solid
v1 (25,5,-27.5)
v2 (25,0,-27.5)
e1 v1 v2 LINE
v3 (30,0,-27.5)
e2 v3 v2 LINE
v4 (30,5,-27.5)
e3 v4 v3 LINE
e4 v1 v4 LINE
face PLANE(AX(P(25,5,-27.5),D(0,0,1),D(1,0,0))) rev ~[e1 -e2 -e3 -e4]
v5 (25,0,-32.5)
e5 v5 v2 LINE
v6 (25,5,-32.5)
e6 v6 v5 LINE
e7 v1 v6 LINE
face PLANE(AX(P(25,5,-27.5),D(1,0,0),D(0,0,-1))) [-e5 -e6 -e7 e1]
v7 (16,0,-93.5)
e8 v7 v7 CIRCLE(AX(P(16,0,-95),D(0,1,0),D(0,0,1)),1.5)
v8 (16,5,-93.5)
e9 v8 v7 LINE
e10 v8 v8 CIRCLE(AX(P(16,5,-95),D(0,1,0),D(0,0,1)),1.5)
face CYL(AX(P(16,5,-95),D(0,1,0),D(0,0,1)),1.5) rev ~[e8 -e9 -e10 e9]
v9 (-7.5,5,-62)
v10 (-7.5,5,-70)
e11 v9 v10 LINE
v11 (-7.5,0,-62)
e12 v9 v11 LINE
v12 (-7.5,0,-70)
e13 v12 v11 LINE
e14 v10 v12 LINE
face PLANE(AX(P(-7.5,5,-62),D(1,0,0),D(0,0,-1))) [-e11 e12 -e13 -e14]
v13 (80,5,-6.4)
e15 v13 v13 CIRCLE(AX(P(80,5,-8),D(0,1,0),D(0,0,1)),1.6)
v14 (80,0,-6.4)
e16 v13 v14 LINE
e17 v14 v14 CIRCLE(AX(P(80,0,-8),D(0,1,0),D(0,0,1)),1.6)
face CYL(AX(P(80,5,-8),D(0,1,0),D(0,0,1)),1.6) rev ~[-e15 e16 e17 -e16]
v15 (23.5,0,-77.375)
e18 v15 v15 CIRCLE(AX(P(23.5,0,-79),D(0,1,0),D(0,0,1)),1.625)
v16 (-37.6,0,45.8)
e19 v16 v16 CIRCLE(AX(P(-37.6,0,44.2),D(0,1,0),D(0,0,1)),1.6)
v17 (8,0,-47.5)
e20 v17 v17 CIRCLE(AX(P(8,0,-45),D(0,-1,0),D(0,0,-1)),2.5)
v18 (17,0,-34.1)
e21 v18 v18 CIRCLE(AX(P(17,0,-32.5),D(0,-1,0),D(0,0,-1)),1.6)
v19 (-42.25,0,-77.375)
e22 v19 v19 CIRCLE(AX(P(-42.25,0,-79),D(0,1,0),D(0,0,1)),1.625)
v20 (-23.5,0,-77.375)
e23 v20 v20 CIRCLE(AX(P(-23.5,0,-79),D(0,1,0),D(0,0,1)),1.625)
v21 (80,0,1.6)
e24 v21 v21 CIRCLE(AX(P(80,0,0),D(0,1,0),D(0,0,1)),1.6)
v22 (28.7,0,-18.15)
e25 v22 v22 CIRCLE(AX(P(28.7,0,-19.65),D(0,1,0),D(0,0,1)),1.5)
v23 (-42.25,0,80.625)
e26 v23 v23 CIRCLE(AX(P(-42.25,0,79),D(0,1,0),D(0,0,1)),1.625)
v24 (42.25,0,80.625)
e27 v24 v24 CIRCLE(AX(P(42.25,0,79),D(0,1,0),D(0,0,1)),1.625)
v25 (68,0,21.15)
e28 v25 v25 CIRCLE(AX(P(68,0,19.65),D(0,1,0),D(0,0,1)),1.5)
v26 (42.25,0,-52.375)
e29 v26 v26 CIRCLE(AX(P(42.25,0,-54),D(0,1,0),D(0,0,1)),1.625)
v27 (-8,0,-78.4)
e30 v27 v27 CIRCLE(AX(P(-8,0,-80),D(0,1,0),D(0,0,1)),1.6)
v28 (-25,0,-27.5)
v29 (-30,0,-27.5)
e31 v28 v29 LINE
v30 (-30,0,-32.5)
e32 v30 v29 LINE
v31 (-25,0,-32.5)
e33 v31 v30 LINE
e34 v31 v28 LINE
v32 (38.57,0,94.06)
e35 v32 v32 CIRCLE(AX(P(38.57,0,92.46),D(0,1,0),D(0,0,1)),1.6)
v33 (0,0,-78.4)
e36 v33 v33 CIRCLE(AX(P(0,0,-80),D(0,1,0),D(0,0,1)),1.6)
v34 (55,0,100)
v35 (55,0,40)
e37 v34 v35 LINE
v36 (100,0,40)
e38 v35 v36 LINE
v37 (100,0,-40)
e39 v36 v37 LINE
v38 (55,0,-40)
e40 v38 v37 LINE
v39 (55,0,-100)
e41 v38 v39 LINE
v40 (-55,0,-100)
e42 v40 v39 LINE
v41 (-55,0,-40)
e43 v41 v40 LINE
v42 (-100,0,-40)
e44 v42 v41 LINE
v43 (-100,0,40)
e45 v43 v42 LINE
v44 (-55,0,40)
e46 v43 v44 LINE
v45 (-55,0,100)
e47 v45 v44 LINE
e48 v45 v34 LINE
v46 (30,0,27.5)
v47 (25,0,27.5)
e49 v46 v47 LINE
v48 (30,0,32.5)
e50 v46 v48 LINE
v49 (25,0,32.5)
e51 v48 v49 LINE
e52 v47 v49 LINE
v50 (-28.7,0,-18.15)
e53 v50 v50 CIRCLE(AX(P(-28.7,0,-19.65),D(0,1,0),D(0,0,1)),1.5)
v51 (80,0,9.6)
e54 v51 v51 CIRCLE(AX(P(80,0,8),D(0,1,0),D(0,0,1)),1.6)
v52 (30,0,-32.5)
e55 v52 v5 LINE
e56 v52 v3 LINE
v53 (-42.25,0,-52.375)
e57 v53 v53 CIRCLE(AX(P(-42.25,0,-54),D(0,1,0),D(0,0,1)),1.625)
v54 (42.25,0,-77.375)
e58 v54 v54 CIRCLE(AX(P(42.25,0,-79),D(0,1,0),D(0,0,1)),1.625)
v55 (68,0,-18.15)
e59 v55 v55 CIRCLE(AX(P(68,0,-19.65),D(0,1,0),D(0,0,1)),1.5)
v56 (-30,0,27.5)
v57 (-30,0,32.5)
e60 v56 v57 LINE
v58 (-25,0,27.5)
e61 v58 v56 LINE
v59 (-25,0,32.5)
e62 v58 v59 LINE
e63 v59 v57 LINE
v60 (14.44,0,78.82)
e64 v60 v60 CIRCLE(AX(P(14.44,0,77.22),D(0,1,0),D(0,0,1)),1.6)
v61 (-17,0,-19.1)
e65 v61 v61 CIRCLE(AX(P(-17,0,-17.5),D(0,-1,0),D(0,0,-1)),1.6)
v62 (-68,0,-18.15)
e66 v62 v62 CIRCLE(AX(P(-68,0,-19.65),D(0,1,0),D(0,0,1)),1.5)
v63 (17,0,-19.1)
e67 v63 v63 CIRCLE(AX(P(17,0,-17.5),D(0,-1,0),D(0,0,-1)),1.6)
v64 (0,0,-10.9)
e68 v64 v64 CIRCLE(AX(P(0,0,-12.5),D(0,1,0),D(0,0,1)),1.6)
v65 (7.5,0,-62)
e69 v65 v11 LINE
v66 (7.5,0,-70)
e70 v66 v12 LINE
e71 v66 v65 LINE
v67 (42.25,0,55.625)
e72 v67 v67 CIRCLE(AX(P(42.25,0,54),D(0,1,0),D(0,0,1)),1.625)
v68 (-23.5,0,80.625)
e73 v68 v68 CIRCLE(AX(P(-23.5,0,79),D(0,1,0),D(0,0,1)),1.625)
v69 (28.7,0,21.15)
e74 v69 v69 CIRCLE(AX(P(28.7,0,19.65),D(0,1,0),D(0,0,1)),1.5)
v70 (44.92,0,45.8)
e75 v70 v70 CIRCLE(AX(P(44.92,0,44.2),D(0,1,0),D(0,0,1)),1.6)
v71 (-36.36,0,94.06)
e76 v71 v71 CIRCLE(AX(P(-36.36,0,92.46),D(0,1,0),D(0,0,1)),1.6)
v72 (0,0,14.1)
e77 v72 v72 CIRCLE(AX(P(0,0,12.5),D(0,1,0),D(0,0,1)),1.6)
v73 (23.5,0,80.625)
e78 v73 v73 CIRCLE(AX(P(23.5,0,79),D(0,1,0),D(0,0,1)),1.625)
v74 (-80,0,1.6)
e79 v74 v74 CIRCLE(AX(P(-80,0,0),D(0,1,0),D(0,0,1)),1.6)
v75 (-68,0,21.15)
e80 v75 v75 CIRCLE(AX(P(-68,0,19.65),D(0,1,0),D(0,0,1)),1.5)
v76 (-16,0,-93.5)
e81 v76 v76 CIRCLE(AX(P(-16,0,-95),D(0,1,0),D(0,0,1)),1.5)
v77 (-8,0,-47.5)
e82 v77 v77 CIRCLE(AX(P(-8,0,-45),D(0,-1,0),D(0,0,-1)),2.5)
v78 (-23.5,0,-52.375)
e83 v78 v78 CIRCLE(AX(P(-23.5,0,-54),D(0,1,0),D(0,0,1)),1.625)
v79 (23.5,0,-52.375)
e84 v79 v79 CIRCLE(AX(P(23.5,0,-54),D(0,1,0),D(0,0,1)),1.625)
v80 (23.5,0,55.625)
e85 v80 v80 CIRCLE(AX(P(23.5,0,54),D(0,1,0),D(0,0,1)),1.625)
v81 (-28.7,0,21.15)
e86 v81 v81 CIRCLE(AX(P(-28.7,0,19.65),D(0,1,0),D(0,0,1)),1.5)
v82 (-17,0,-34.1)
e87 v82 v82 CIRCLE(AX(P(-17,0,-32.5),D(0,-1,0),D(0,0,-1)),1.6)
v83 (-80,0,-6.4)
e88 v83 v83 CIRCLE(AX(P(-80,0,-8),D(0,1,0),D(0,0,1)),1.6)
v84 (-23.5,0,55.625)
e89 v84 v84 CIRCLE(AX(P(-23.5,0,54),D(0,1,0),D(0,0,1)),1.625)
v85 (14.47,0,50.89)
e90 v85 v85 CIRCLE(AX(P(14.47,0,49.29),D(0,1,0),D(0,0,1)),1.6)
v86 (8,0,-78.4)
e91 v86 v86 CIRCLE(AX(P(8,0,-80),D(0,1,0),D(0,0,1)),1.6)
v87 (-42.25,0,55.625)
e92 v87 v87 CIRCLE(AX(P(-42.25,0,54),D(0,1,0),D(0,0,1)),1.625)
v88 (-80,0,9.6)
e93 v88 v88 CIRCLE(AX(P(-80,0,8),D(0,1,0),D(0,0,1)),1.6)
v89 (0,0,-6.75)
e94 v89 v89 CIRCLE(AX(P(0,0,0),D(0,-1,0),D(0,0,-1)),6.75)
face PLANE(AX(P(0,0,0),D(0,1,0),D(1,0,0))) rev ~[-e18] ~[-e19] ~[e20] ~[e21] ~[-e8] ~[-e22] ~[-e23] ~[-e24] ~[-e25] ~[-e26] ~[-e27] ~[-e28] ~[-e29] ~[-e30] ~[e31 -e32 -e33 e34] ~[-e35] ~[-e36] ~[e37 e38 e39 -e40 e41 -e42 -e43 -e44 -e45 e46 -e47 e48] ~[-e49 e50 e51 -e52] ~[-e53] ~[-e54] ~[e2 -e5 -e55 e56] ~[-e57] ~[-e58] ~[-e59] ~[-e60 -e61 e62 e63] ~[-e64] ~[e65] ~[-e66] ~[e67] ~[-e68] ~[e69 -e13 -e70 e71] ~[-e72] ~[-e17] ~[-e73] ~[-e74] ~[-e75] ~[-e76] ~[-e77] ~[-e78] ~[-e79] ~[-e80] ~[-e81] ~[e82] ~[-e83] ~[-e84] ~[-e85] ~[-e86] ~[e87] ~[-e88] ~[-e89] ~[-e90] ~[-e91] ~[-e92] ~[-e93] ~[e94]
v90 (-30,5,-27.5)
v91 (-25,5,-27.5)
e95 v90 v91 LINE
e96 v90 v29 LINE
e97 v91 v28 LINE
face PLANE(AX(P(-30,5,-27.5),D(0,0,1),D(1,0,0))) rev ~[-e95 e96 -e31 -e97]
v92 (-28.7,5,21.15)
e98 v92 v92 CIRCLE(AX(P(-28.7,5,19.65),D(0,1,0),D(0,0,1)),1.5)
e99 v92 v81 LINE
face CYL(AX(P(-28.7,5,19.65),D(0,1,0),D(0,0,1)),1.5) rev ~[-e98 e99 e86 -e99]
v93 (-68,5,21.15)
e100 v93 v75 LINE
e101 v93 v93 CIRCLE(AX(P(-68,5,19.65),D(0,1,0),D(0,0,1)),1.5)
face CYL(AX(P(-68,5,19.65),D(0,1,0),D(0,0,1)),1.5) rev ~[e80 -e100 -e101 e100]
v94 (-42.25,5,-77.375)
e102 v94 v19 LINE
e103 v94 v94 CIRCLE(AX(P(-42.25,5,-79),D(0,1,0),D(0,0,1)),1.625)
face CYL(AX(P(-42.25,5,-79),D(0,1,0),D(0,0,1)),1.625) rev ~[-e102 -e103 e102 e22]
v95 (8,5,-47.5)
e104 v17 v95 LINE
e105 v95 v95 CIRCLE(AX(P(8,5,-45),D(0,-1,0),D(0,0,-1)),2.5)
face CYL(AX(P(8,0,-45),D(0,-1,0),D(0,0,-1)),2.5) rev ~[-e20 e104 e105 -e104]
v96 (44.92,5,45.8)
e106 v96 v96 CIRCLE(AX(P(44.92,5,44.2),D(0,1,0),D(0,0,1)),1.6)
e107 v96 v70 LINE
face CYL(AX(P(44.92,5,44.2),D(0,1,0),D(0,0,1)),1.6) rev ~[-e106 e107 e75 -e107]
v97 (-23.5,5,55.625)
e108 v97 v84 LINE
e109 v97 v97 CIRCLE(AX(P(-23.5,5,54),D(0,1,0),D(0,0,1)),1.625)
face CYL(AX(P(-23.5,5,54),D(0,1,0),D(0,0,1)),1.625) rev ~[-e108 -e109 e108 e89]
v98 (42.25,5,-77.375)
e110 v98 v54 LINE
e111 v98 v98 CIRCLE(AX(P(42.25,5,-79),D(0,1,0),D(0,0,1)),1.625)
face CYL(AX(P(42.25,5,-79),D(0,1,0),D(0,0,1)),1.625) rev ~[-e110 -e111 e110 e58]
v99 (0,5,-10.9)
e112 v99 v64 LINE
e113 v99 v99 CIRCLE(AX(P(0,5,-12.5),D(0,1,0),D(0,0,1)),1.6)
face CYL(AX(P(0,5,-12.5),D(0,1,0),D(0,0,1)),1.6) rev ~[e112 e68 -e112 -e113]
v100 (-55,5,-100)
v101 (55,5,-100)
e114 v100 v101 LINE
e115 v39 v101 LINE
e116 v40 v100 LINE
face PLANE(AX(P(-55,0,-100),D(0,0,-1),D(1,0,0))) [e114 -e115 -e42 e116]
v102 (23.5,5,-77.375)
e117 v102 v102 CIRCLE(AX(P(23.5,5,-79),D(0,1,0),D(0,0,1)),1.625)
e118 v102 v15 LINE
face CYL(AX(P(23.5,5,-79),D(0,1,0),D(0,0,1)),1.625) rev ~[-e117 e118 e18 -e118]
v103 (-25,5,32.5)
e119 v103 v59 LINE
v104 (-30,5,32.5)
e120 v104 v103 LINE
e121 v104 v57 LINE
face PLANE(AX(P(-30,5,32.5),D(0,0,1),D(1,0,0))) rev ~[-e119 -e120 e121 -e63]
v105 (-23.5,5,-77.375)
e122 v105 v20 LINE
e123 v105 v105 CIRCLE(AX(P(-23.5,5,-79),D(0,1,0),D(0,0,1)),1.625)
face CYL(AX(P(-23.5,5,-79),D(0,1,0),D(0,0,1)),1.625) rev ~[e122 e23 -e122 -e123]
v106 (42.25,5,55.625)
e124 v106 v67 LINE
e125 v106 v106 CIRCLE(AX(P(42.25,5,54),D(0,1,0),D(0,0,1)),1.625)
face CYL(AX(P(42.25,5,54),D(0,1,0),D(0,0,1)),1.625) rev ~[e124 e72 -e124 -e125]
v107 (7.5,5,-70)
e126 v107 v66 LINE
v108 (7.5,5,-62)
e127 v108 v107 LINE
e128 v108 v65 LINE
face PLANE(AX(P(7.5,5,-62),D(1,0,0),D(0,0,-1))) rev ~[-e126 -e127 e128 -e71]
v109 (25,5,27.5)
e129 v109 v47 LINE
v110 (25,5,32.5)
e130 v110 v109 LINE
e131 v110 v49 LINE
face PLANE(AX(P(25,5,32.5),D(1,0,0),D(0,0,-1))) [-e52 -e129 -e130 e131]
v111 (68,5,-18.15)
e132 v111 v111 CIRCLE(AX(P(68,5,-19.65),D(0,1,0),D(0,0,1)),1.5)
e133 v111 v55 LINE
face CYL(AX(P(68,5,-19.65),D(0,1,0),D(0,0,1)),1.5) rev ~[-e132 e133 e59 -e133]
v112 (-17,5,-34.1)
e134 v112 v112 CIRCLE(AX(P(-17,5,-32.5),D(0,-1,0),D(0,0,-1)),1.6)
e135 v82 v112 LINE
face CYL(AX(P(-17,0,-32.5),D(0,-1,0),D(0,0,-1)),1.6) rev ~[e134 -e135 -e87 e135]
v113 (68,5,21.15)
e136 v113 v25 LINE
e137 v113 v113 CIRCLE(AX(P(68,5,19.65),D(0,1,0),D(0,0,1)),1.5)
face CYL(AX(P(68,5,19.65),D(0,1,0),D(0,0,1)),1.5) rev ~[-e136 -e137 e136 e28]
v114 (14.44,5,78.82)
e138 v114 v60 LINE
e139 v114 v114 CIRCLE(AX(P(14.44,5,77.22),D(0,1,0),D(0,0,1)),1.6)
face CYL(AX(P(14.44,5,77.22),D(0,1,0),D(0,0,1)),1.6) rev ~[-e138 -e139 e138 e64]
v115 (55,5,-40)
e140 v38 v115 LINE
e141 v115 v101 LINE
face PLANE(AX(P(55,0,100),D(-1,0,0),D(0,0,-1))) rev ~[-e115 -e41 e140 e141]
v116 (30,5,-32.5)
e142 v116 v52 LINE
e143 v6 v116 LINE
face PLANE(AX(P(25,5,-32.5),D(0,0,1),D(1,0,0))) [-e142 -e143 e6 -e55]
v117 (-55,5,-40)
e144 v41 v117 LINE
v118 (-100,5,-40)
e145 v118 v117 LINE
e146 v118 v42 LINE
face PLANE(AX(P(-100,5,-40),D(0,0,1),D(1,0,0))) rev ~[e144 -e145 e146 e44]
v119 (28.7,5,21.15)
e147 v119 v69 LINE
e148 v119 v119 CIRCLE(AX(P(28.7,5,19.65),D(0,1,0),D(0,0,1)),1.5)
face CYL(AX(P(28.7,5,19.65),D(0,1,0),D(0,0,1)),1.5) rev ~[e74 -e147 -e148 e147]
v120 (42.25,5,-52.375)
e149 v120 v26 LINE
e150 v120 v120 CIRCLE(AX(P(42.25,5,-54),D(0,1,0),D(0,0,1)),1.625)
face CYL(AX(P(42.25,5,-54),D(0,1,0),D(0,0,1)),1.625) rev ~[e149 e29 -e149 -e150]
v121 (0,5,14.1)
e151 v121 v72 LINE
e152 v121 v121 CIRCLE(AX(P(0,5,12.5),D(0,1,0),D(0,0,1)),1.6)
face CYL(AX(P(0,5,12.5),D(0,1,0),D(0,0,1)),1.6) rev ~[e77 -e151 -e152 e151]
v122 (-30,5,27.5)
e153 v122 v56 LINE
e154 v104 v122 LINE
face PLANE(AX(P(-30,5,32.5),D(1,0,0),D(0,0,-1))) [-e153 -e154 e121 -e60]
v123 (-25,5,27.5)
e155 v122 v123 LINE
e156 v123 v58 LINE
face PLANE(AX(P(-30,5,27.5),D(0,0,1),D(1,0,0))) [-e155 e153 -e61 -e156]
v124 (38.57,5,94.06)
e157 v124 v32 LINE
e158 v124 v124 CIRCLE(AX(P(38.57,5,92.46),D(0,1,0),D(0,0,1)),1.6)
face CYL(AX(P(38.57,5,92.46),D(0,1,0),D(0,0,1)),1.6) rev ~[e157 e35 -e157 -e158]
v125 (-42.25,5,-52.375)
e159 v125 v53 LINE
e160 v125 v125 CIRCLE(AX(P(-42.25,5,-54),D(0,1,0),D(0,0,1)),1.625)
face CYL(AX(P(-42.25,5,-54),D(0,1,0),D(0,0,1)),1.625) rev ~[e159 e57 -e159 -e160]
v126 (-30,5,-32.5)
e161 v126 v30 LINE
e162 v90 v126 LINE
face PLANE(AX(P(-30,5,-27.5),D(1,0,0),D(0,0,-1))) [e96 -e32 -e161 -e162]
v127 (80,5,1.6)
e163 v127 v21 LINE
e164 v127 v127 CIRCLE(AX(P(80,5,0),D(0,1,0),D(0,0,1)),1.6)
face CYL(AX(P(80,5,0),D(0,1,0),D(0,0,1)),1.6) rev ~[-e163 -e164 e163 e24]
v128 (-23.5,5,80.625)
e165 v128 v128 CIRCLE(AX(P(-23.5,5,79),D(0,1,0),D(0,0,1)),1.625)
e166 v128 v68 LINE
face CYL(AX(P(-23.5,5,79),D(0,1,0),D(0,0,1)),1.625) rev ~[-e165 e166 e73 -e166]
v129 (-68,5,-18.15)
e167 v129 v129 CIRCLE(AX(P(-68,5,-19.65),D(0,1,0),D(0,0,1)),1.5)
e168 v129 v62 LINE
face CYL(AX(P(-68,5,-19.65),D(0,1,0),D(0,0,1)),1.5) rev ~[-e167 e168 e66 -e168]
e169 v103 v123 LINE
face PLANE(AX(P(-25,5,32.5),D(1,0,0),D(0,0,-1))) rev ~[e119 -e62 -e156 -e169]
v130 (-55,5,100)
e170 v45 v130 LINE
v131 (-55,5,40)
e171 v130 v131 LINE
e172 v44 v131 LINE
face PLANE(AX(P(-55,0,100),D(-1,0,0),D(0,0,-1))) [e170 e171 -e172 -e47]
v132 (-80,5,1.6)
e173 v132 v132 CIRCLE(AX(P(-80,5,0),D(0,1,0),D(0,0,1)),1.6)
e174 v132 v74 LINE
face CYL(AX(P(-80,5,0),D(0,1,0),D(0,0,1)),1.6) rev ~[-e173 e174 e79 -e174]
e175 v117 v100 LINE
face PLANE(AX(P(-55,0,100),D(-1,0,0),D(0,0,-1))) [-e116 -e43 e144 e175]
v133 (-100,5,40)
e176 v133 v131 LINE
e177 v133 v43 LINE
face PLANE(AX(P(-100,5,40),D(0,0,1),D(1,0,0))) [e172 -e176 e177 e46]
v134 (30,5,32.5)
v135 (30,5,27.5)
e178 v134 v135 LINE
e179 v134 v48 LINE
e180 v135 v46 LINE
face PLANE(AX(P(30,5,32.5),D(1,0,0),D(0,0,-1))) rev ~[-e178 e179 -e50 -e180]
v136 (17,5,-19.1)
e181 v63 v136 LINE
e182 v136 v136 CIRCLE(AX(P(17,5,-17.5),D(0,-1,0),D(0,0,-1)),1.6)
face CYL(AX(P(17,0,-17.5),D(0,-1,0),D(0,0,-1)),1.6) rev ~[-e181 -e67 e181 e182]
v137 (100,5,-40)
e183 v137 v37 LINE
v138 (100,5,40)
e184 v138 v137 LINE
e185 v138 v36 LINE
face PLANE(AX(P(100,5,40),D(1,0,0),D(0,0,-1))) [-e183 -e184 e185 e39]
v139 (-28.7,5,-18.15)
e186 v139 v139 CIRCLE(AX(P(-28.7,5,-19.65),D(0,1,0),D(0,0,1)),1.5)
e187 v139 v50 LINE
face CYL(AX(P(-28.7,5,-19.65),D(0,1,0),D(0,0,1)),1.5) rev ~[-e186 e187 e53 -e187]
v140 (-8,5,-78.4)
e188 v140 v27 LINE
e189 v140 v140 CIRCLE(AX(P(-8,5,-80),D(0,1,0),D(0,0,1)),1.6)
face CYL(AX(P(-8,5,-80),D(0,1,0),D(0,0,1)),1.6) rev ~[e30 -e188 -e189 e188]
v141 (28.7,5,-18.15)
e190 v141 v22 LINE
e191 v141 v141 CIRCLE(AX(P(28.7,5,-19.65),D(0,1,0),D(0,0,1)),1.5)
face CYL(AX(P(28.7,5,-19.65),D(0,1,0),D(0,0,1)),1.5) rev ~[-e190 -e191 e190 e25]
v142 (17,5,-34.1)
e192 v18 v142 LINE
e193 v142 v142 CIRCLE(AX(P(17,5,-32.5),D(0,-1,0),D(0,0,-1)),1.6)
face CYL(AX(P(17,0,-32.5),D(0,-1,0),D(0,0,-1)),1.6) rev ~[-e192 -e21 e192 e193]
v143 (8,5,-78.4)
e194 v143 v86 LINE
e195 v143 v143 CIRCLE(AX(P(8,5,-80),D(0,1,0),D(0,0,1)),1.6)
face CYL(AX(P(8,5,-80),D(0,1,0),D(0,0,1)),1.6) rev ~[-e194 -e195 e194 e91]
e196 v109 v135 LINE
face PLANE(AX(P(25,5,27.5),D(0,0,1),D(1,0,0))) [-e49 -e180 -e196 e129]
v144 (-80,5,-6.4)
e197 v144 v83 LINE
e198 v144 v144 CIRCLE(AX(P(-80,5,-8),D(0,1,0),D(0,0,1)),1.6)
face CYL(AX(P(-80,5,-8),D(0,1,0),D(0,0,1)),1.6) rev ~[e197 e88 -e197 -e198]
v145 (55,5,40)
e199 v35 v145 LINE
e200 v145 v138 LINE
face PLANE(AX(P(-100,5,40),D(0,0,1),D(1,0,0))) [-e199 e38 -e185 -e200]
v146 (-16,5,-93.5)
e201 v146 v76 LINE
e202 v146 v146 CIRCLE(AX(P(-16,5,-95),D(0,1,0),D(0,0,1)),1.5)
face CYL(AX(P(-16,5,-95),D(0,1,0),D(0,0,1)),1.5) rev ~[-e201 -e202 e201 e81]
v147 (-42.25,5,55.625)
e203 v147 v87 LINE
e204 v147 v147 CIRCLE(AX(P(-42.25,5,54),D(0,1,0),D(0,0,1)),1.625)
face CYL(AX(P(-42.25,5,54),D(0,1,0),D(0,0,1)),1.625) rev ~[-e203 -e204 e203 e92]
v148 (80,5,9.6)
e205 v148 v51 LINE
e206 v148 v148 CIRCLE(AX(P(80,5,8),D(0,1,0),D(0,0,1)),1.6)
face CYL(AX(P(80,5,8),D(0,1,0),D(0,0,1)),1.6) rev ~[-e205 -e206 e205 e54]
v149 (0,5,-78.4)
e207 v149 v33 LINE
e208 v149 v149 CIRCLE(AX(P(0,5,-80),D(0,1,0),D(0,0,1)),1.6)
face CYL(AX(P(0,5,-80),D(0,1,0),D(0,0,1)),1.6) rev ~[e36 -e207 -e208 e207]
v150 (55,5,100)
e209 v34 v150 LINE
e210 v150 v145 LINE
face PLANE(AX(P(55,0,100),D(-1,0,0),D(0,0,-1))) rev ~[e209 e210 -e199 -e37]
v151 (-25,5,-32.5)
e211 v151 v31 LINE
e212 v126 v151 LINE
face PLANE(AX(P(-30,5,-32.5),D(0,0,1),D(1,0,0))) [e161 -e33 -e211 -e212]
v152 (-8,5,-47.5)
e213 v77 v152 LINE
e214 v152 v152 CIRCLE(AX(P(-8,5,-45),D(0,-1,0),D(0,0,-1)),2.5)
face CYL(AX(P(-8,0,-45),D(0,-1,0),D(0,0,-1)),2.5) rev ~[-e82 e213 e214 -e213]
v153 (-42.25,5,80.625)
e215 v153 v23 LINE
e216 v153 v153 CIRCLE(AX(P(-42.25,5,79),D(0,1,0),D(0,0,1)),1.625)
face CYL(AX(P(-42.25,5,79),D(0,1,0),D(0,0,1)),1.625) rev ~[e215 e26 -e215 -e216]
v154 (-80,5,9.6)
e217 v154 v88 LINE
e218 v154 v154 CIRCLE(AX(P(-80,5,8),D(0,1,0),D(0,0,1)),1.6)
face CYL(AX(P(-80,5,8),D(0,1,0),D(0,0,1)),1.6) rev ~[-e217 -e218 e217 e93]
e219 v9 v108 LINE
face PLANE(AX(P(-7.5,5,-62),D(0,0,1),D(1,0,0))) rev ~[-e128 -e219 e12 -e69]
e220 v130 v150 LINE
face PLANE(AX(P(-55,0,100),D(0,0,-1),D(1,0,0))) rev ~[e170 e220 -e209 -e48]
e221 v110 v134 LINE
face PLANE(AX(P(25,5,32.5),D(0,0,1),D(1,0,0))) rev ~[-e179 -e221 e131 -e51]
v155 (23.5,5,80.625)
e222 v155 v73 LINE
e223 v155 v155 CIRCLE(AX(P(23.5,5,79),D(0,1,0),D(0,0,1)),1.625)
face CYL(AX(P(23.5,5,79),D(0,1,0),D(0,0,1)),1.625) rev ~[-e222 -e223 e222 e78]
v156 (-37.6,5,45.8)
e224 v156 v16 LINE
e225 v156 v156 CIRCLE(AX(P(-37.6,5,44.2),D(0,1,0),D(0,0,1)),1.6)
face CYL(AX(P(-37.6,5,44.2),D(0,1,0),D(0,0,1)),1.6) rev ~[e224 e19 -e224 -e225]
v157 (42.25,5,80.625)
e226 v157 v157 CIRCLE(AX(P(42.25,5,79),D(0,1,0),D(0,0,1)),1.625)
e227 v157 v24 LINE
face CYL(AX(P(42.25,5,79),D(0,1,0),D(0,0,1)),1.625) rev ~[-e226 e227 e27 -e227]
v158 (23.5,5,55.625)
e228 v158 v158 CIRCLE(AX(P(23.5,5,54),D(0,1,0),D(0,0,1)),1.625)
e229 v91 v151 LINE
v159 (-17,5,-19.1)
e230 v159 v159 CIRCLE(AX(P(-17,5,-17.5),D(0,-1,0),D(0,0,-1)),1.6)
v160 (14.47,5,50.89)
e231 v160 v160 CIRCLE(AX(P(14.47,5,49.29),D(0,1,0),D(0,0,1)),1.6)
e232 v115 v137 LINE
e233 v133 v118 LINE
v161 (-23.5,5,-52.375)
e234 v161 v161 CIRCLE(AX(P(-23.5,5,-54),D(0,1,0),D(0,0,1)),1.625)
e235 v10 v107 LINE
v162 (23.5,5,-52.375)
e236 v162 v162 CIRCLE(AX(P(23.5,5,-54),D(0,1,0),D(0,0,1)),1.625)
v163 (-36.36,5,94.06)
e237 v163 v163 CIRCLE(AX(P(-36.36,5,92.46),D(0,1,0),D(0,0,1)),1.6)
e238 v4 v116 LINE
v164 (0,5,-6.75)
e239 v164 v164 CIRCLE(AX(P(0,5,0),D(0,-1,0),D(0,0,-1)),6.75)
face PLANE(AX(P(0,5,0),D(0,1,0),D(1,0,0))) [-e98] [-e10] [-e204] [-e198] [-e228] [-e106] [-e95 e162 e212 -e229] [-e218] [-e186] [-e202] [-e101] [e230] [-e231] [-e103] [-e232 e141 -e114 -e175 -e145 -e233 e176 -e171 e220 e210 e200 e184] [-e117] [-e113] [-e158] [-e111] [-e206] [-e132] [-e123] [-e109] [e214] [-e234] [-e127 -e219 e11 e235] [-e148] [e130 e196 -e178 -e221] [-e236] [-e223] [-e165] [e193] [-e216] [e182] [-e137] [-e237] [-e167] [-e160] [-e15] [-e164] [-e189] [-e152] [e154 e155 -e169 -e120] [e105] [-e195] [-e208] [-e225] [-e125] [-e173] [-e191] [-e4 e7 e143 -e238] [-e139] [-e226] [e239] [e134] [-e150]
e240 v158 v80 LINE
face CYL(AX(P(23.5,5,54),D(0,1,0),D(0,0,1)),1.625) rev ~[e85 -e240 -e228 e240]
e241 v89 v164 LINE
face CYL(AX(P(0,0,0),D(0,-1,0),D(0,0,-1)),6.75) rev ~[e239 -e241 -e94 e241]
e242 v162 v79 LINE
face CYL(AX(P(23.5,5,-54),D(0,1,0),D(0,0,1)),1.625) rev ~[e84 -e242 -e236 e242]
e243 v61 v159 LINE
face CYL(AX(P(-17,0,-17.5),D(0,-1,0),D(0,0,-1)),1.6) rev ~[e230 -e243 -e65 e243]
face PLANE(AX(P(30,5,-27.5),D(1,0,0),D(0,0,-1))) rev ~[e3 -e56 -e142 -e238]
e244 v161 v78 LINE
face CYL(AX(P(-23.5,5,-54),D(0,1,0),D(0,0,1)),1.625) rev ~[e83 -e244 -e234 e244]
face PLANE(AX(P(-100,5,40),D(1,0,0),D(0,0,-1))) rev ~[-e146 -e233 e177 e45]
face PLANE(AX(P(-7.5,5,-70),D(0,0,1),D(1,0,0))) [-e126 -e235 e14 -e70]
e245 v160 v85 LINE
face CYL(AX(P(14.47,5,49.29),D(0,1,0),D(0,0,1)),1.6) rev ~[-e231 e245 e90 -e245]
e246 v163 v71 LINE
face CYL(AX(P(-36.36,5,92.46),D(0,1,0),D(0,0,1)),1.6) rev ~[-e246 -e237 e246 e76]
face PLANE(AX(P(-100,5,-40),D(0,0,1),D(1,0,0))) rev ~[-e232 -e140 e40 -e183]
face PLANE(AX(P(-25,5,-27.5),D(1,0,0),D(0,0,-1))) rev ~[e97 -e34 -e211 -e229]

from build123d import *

# Parameters (mm, degrees)
SKETCH1_W           = 110
SKETCH1_H           = 200
BOSS_EXTRUDE1_DEPTH = 5
CUT_EXTRUDE1_REACH  = 116.237
SKETCH2_R           = 1.625
CUT_EXTRUDE3_REACH  = 116.237
SKETCH7_R           = 1.6
SKETCH9_W           = 200
SKETCH9_H           = 80
BOSS_EXTRUDE2_DEPTH = 5
CUT_EXTRUDE4_REACH  = 143.51
SKETCH10_R          = 1.5
CUT_EXTRUDE5_REACH  = 143.51
SKETCH11_W          = 5
SKETCH11_H          = 5
SKETCH12_R          = 1.6
CUT_EXTRUDE6_DEPTH  = 5
SKETCH13_R          = 6.75
CUT_EXTRUDE7_DEPTH  = 5
CUT_EXTRUDE8_REACH  = 143.51
SKETCH14_R          = 2.5
CUT_EXTRUDE9_REACH  = 143.51
SKETCH15_R          = 1.6
CUT_EXTRUDE10_REACH = 143.51
SKETCH16_R          = 1.5
CUT_EXTRUDE11_REACH = 143.51
SKETCH17_W          = 15
SKETCH17_H          = 8
CUT_EXTRUDE12_REACH = 143.51
SKETCH18_R          = 1.6


with BuildPart() as part:
    # Sketch1 → Boss-Extrude1 (new body)
    with BuildSketch(Plane(origin=(0, 0, 0), x_dir=(1, 0, 0), z_dir=(0, 1, 0))):
        Rectangle(SKETCH1_W, SKETCH1_H)
    extrude(amount=BOSS_EXTRUDE1_DEPTH)

    # Sketch2 → Cut-Extrude1 (cut, up to next)
    with BuildSketch(Plane(origin=(0, 5, 0), x_dir=(1, 0, 0), z_dir=(0, 1, 0)), mode=Mode.PRIVATE) as cut_extrude1_sk1:
        with Locations(Location((-23.5, 54, 0), (0, 0, 270))):
            Circle(SKETCH2_R)
    cut_extrude1_tool1 = extrude(cut_extrude1_sk1.sketch, amount=-CUT_EXTRUDE1_REACH, mode=Mode.PRIVATE) & part.part
    # Sketch2 → Cut-Extrude1 (cut, up to next)
    with BuildSketch(Plane(origin=(0, 5, 0), x_dir=(1, 0, 0), z_dir=(0, 1, 0)), mode=Mode.PRIVATE) as cut_extrude1_sk2:
        with Locations(Location((-23.5, 79, 0), (0, 0, 270))):
            Circle(SKETCH2_R)
    cut_extrude1_tool2 = extrude(cut_extrude1_sk2.sketch, amount=-CUT_EXTRUDE1_REACH, mode=Mode.PRIVATE) & part.part
    # Sketch2 → Cut-Extrude1 (cut, up to next)
    with BuildSketch(Plane(origin=(0, 5, 0), x_dir=(1, 0, 0), z_dir=(0, 1, 0)), mode=Mode.PRIVATE) as cut_extrude1_sk3:
        with Locations(Location((-42.25, 79, 0), (0, 0, 270))):
            Circle(SKETCH2_R)
    cut_extrude1_tool3 = extrude(cut_extrude1_sk3.sketch, amount=-CUT_EXTRUDE1_REACH, mode=Mode.PRIVATE) & part.part
    # Sketch2 → Cut-Extrude1 (cut, up to next)
    with BuildSketch(Plane(origin=(0, 5, 0), x_dir=(1, 0, 0), z_dir=(0, 1, 0)), mode=Mode.PRIVATE) as cut_extrude1_sk4:
        with Locations(Location((-42.25, 54, 0), (0, 0, 270))):
            Circle(SKETCH2_R)
    cut_extrude1_tool4 = extrude(cut_extrude1_sk4.sketch, amount=-CUT_EXTRUDE1_REACH, mode=Mode.PRIVATE) & part.part
    # Sketch2 → Cut-Extrude1 (cut, up to next)
    with BuildSketch(Plane(origin=(0, 5, 0), x_dir=(1, 0, 0), z_dir=(0, 1, 0)), mode=Mode.PRIVATE) as cut_extrude1_sk5:
        with Locations(Location((-23.5, -79, 0), (0, 0, 270))):
            Circle(SKETCH2_R)
    cut_extrude1_tool5 = extrude(cut_extrude1_sk5.sketch, amount=-CUT_EXTRUDE1_REACH, mode=Mode.PRIVATE) & part.part
    # Sketch2 → Cut-Extrude1 (cut, up to next)
    with BuildSketch(Plane(origin=(0, 5, 0), x_dir=(1, 0, 0), z_dir=(0, 1, 0)), mode=Mode.PRIVATE) as cut_extrude1_sk6:
        with Locations(Location((-23.5, -54, 0), (0, 0, 270))):
            Circle(SKETCH2_R)
    cut_extrude1_tool6 = extrude(cut_extrude1_sk6.sketch, amount=-CUT_EXTRUDE1_REACH, mode=Mode.PRIVATE) & part.part
    # Sketch2 → Cut-Extrude1 (cut, up to next)
    with BuildSketch(Plane(origin=(0, 5, 0), x_dir=(1, 0, 0), z_dir=(0, 1, 0)), mode=Mode.PRIVATE) as cut_extrude1_sk7:
        with Locations(Location((-42.25, -54, 0), (0, 0, 270))):
            Circle(SKETCH2_R)
    cut_extrude1_tool7 = extrude(cut_extrude1_sk7.sketch, amount=-CUT_EXTRUDE1_REACH, mode=Mode.PRIVATE) & part.part
    # Sketch2 → Cut-Extrude1 (cut, up to next)
    with BuildSketch(Plane(origin=(0, 5, 0), x_dir=(1, 0, 0), z_dir=(0, 1, 0)), mode=Mode.PRIVATE) as cut_extrude1_sk8:
        with Locations(Location((-42.25, -79, 0), (0, 0, 270))):
            Circle(SKETCH2_R)
    cut_extrude1_tool8 = extrude(cut_extrude1_sk8.sketch, amount=-CUT_EXTRUDE1_REACH, mode=Mode.PRIVATE) & part.part
    # Sketch2 → Cut-Extrude1 (cut, up to next)
    with BuildSketch(Plane(origin=(0, 5, 0), x_dir=(1, 0, 0), z_dir=(0, 1, 0)), mode=Mode.PRIVATE) as cut_extrude1_sk9:
        with Locations(Location((23.5, -79, 0), (0, 0, 270))):
            Circle(SKETCH2_R)
    cut_extrude1_tool9 = extrude(cut_extrude1_sk9.sketch, amount=-CUT_EXTRUDE1_REACH, mode=Mode.PRIVATE) & part.part
    # Sketch2 → Cut-Extrude1 (cut, up to next)
    with BuildSketch(Plane(origin=(0, 5, 0), x_dir=(1, 0, 0), z_dir=(0, 1, 0)), mode=Mode.PRIVATE) as cut_extrude1_sk10:
        with Locations(Location((23.5, -54, 0), (0, 0, 270))):
            Circle(SKETCH2_R)
    cut_extrude1_tool10 = extrude(cut_extrude1_sk10.sketch, amount=-CUT_EXTRUDE1_REACH, mode=Mode.PRIVATE) & part.part
    # Sketch2 → Cut-Extrude1 (cut, up to next)
    with BuildSketch(Plane(origin=(0, 5, 0), x_dir=(1, 0, 0), z_dir=(0, 1, 0)), mode=Mode.PRIVATE) as cut_extrude1_sk11:
        with Locations(Location((42.25, -54, 0), (0, 0, 270))):
            Circle(SKETCH2_R)
    cut_extrude1_tool11 = extrude(cut_extrude1_sk11.sketch, amount=-CUT_EXTRUDE1_REACH, mode=Mode.PRIVATE) & part.part
    # Sketch2 → Cut-Extrude1 (cut, up to next)
    with BuildSketch(Plane(origin=(0, 5, 0), x_dir=(1, 0, 0), z_dir=(0, 1, 0)), mode=Mode.PRIVATE) as cut_extrude1_sk12:
        with Locations(Location((42.25, -79, 0), (0, 0, 270))):
            Circle(SKETCH2_R)
    cut_extrude1_tool12 = extrude(cut_extrude1_sk12.sketch, amount=-CUT_EXTRUDE1_REACH, mode=Mode.PRIVATE) & part.part
    # Sketch2 → Cut-Extrude1 (cut, up to next)
    with BuildSketch(Plane(origin=(0, 5, 0), x_dir=(1, 0, 0), z_dir=(0, 1, 0)), mode=Mode.PRIVATE) as cut_extrude1_sk13:
        with Locations(Location((23.5, 54, 0), (0, 0, 270))):
            Circle(SKETCH2_R)
    cut_extrude1_tool13 = extrude(cut_extrude1_sk13.sketch, amount=-CUT_EXTRUDE1_REACH, mode=Mode.PRIVATE) & part.part
    # Sketch2 → Cut-Extrude1 (cut, up to next)
    with BuildSketch(Plane(origin=(0, 5, 0), x_dir=(1, 0, 0), z_dir=(0, 1, 0)), mode=Mode.PRIVATE) as cut_extrude1_sk14:
        with Locations(Location((23.5, 79, 0), (0, 0, 270))):
            Circle(SKETCH2_R)
    cut_extrude1_tool14 = extrude(cut_extrude1_sk14.sketch, amount=-CUT_EXTRUDE1_REACH, mode=Mode.PRIVATE) & part.part
    # Sketch2 → Cut-Extrude1 (cut, up to next)
    with BuildSketch(Plane(origin=(0, 5, 0), x_dir=(1, 0, 0), z_dir=(0, 1, 0)), mode=Mode.PRIVATE) as cut_extrude1_sk15:
        with Locations(Location((42.25, 79, 0), (0, 0, 270))):
            Circle(SKETCH2_R)
    cut_extrude1_tool15 = extrude(cut_extrude1_sk15.sketch, amount=-CUT_EXTRUDE1_REACH, mode=Mode.PRIVATE) & part.part
    # Sketch2 → Cut-Extrude1 (cut, up to next)
    with BuildSketch(Plane(origin=(0, 5, 0), x_dir=(1, 0, 0), z_dir=(0, 1, 0)), mode=Mode.PRIVATE) as cut_extrude1_sk16:
        with Locations(Location((42.25, 54, 0), (0, 0, 270))):
            Circle(SKETCH2_R)
    cut_extrude1_tool16 = extrude(cut_extrude1_sk16.sketch, amount=-CUT_EXTRUDE1_REACH, mode=Mode.PRIVATE) & part.part
    add(cut_extrude1_tool1.solids().sort_by_distance((-23.5, 5, -54))[0], mode=Mode.SUBTRACT)
    add(cut_extrude1_tool2.solids().sort_by_distance((-23.5, 5, -79))[0], mode=Mode.SUBTRACT)
    add(cut_extrude1_tool3.solids().sort_by_distance((-42.25, 5, -79))[0], mode=Mode.SUBTRACT)
    add(cut_extrude1_tool4.solids().sort_by_distance((-42.25, 5, -54))[0], mode=Mode.SUBTRACT)
    add(cut_extrude1_tool5.solids().sort_by_distance((-23.5, 5, 79))[0], mode=Mode.SUBTRACT)
    add(cut_extrude1_tool6.solids().sort_by_distance((-23.5, 5, 54))[0], mode=Mode.SUBTRACT)
    add(cut_extrude1_tool7.solids().sort_by_distance((-42.25, 5, 54))[0], mode=Mode.SUBTRACT)
    add(cut_extrude1_tool8.solids().sort_by_distance((-42.25, 5, 79))[0], mode=Mode.SUBTRACT)
    add(cut_extrude1_tool9.solids().sort_by_distance((23.5, 5, 79))[0], mode=Mode.SUBTRACT)
    add(cut_extrude1_tool10.solids().sort_by_distance((23.5, 5, 54))[0], mode=Mode.SUBTRACT)
    add(cut_extrude1_tool11.solids().sort_by_distance((42.25, 5, 54))[0], mode=Mode.SUBTRACT)
    add(cut_extrude1_tool12.solids().sort_by_distance((42.25, 5, 79))[0], mode=Mode.SUBTRACT)
    add(cut_extrude1_tool13.solids().sort_by_distance((23.5, 5, -54))[0], mode=Mode.SUBTRACT)
    add(cut_extrude1_tool14.solids().sort_by_distance((23.5, 5, -79))[0], mode=Mode.SUBTRACT)
    add(cut_extrude1_tool15.solids().sort_by_distance((42.25, 5, -79))[0], mode=Mode.SUBTRACT)
    add(cut_extrude1_tool16.solids().sort_by_distance((42.25, 5, -54))[0], mode=Mode.SUBTRACT)

    # Sketch7 → Cut-Extrude3 (cut, up to next)
    with BuildSketch(Plane(origin=(0, 5, 0), x_dir=(1, 0, 0), z_dir=(0, 1, 0)), mode=Mode.PRIVATE) as cut_extrude3_sk1:
        with Locations(Location((-37.6, -44.2, 0), (0, 0, 270))):
            Circle(SKETCH7_R)
    cut_extrude3_tool1 = extrude(cut_extrude3_sk1.sketch, amount=-CUT_EXTRUDE3_REACH, mode=Mode.PRIVATE) & part.part
    # Sketch7 → Cut-Extrude3 (cut, up to next)
    with BuildSketch(Plane(origin=(0, 5, 0), x_dir=(1, 0, 0), z_dir=(0, 1, 0)), mode=Mode.PRIVATE) as cut_extrude3_sk2:
        with Locations(Location((44.92, -44.2, 0), (0, 0, 270))):
            Circle(SKETCH7_R)
    cut_extrude3_tool2 = extrude(cut_extrude3_sk2.sketch, amount=-CUT_EXTRUDE3_REACH, mode=Mode.PRIVATE) & part.part
    # Sketch7 → Cut-Extrude3 (cut, up to next)
    with BuildSketch(Plane(origin=(0, 5, 0), x_dir=(1, 0, 0), z_dir=(0, 1, 0)), mode=Mode.PRIVATE) as cut_extrude3_sk3:
        with Locations(Location((14.47, -49.29, 0), (0, 0, 270))):
            Circle(SKETCH7_R)
    cut_extrude3_tool3 = extrude(cut_extrude3_sk3.sketch, amount=-CUT_EXTRUDE3_REACH, mode=Mode.PRIVATE) & part.part
    # Sketch7 → Cut-Extrude3 (cut, up to next)
    with BuildSketch(Plane(origin=(0, 5, 0), x_dir=(1, 0, 0), z_dir=(0, 1, 0)), mode=Mode.PRIVATE) as cut_extrude3_sk4:
        with Locations(Location((14.44, -77.22, 0), (0, 0, 270))):
            Circle(SKETCH7_R)
    cut_extrude3_tool4 = extrude(cut_extrude3_sk4.sketch, amount=-CUT_EXTRUDE3_REACH, mode=Mode.PRIVATE) & part.part
    # Sketch7 → Cut-Extrude3 (cut, up to next)
    with BuildSketch(Plane(origin=(0, 5, 0), x_dir=(1, 0, 0), z_dir=(0, 1, 0)), mode=Mode.PRIVATE) as cut_extrude3_sk5:
        with Locations(Location((-36.36, -92.46, 0), (0, 0, 270))):
            Circle(SKETCH7_R)
    cut_extrude3_tool5 = extrude(cut_extrude3_sk5.sketch, amount=-CUT_EXTRUDE3_REACH, mode=Mode.PRIVATE) & part.part
    # Sketch7 → Cut-Extrude3 (cut, up to next)
    with BuildSketch(Plane(origin=(0, 5, 0), x_dir=(1, 0, 0), z_dir=(0, 1, 0)), mode=Mode.PRIVATE) as cut_extrude3_sk6:
        with Locations(Location((38.57, -92.46, 0), (0, 0, 270))):
            Circle(SKETCH7_R)
    cut_extrude3_tool6 = extrude(cut_extrude3_sk6.sketch, amount=-CUT_EXTRUDE3_REACH, mode=Mode.PRIVATE) & part.part
    add(cut_extrude3_tool1.solids().sort_by_distance((-37.6, 5, 44.2))[0], mode=Mode.SUBTRACT)
    add(cut_extrude3_tool2.solids().sort_by_distance((44.92, 5, 44.2))[0], mode=Mode.SUBTRACT)
    add(cut_extrude3_tool3.solids().sort_by_distance((14.47, 5, 49.29))[0], mode=Mode.SUBTRACT)
    add(cut_extrude3_tool4.solids().sort_by_distance((14.44, 5, 77.22))[0], mode=Mode.SUBTRACT)
    add(cut_extrude3_tool5.solids().sort_by_distance((-36.36, 5, 92.46))[0], mode=Mode.SUBTRACT)
    add(cut_extrude3_tool6.solids().sort_by_distance((38.57, 5, 92.46))[0], mode=Mode.SUBTRACT)

    # Sketch9 → Boss-Extrude2 (add)
    with BuildSketch(Plane(origin=(0, 5, 0), x_dir=(1, 0, 0), z_dir=(0, 1, 0))):
        Rectangle(SKETCH9_W, SKETCH9_H)
    extrude(amount=-BOSS_EXTRUDE2_DEPTH)

    # Sketch10 → Cut-Extrude4 (cut, up to next)
    with BuildSketch(Plane(origin=(0, 5, 0), x_dir=(1, 0, 0), z_dir=(0, 1, 0)), mode=Mode.PRIVATE) as cut_extrude4_sk1:
        with Locations(Location((-68, 19.65, 0), (0, 0, 270))):
            Circle(SKETCH10_R)
    cut_extrude4_tool1 = extrude(cut_extrude4_sk1.sketch, amount=-CUT_EXTRUDE4_REACH, mode=Mode.PRIVATE) & part.part
    # Sketch10 → Cut-Extrude4 (cut, up to next)
    with BuildSketch(Plane(origin=(0, 5, 0), x_dir=(1, 0, 0), z_dir=(0, 1, 0)), mode=Mode.PRIVATE) as cut_extrude4_sk2:
        with Locations(Location((-28.7, 19.65, 0), (0, 0, 270))):
            Circle(SKETCH10_R)
    cut_extrude4_tool2 = extrude(cut_extrude4_sk2.sketch, amount=-CUT_EXTRUDE4_REACH, mode=Mode.PRIVATE) & part.part
    # Sketch10 → Cut-Extrude4 (cut, up to next)
    with BuildSketch(Plane(origin=(0, 5, 0), x_dir=(1, 0, 0), z_dir=(0, 1, 0)), mode=Mode.PRIVATE) as cut_extrude4_sk3:
        with Locations(Location((-28.7, -19.65, 0), (0, 0, 270))):
            Circle(SKETCH10_R)
    cut_extrude4_tool3 = extrude(cut_extrude4_sk3.sketch, amount=-CUT_EXTRUDE4_REACH, mode=Mode.PRIVATE) & part.part
    # Sketch10 → Cut-Extrude4 (cut, up to next)
    with BuildSketch(Plane(origin=(0, 5, 0), x_dir=(1, 0, 0), z_dir=(0, 1, 0)), mode=Mode.PRIVATE) as cut_extrude4_sk4:
        with Locations(Location((-68, -19.65, 0), (0, 0, 270))):
            Circle(SKETCH10_R)
    cut_extrude4_tool4 = extrude(cut_extrude4_sk4.sketch, amount=-CUT_EXTRUDE4_REACH, mode=Mode.PRIVATE) & part.part
    # Sketch10 → Cut-Extrude4 (cut, up to next)
    with BuildSketch(Plane(origin=(0, 5, 0), x_dir=(1, 0, 0), z_dir=(0, 1, 0)), mode=Mode.PRIVATE) as cut_extrude4_sk5:
        with Locations(Location((68, -19.65, 0), (0, 0, 270))):
            Circle(SKETCH10_R)
    cut_extrude4_tool5 = extrude(cut_extrude4_sk5.sketch, amount=-CUT_EXTRUDE4_REACH, mode=Mode.PRIVATE) & part.part
    # Sketch10 → Cut-Extrude4 (cut, up to next)
    with BuildSketch(Plane(origin=(0, 5, 0), x_dir=(1, 0, 0), z_dir=(0, 1, 0)), mode=Mode.PRIVATE) as cut_extrude4_sk6:
        with Locations(Location((28.7, -19.65, 0), (0, 0, 270))):
            Circle(SKETCH10_R)
    cut_extrude4_tool6 = extrude(cut_extrude4_sk6.sketch, amount=-CUT_EXTRUDE4_REACH, mode=Mode.PRIVATE) & part.part
    # Sketch10 → Cut-Extrude4 (cut, up to next)
    with BuildSketch(Plane(origin=(0, 5, 0), x_dir=(1, 0, 0), z_dir=(0, 1, 0)), mode=Mode.PRIVATE) as cut_extrude4_sk7:
        with Locations(Location((28.7, 19.65, 0), (0, 0, 270))):
            Circle(SKETCH10_R)
    cut_extrude4_tool7 = extrude(cut_extrude4_sk7.sketch, amount=-CUT_EXTRUDE4_REACH, mode=Mode.PRIVATE) & part.part
    # Sketch10 → Cut-Extrude4 (cut, up to next)
    with BuildSketch(Plane(origin=(0, 5, 0), x_dir=(1, 0, 0), z_dir=(0, 1, 0)), mode=Mode.PRIVATE) as cut_extrude4_sk8:
        with Locations(Location((68, 19.65, 0), (0, 0, 270))):
            Circle(SKETCH10_R)
    cut_extrude4_tool8 = extrude(cut_extrude4_sk8.sketch, amount=-CUT_EXTRUDE4_REACH, mode=Mode.PRIVATE) & part.part
    add(cut_extrude4_tool1.solids().sort_by_distance((-68, 5, -19.65))[0], mode=Mode.SUBTRACT)
    add(cut_extrude4_tool2.solids().sort_by_distance((-28.7, 5, -19.65))[0], mode=Mode.SUBTRACT)
    add(cut_extrude4_tool3.solids().sort_by_distance((-28.7, 5, 19.65))[0], mode=Mode.SUBTRACT)
    add(cut_extrude4_tool4.solids().sort_by_distance((-68, 5, 19.65))[0], mode=Mode.SUBTRACT)
    add(cut_extrude4_tool5.solids().sort_by_distance((68, 5, 19.65))[0], mode=Mode.SUBTRACT)
    add(cut_extrude4_tool6.solids().sort_by_distance((28.7, 5, 19.65))[0], mode=Mode.SUBTRACT)
    add(cut_extrude4_tool7.solids().sort_by_distance((28.7, 5, -19.65))[0], mode=Mode.SUBTRACT)
    add(cut_extrude4_tool8.solids().sort_by_distance((68, 5, -19.65))[0], mode=Mode.SUBTRACT)

    # Sketch11 → Cut-Extrude5 (cut, up to next)
    with BuildSketch(Plane(origin=(0, 5, 0), x_dir=(1, 0, 0), z_dir=(0, 1, 0)), mode=Mode.PRIVATE) as cut_extrude5_sk1:
        with Locations((-27.5, 30)):
            Rectangle(SKETCH11_W, SKETCH11_H)
    cut_extrude5_tool1 = extrude(cut_extrude5_sk1.sketch, amount=-CUT_EXTRUDE5_REACH, mode=Mode.PRIVATE) & part.part
    # Sketch11 → Cut-Extrude5 (cut, up to next)
    with BuildSketch(Plane(origin=(0, 5, 0), x_dir=(1, 0, 0), z_dir=(0, 1, 0)), mode=Mode.PRIVATE) as cut_extrude5_sk2:
        with Locations((-27.5, -30)):
            Rectangle(SKETCH11_W, SKETCH11_H)
    cut_extrude5_tool2 = extrude(cut_extrude5_sk2.sketch, amount=-CUT_EXTRUDE5_REACH, mode=Mode.PRIVATE) & part.part
    # Sketch11 → Cut-Extrude5 (cut, up to next)
    with BuildSketch(Plane(origin=(0, 5, 0), x_dir=(1, 0, 0), z_dir=(0, 1, 0)), mode=Mode.PRIVATE) as cut_extrude5_sk3:
        with Locations((27.5, -30)):
            Rectangle(SKETCH11_W, SKETCH11_H)
    cut_extrude5_tool3 = extrude(cut_extrude5_sk3.sketch, amount=-CUT_EXTRUDE5_REACH, mode=Mode.PRIVATE) & part.part
    # Sketch11 → Cut-Extrude5 (cut, up to next)
    with BuildSketch(Plane(origin=(0, 5, 0), x_dir=(1, 0, 0), z_dir=(0, 1, 0)), mode=Mode.PRIVATE) as cut_extrude5_sk4:
        with Locations((27.5, 30)):
            Rectangle(SKETCH11_W, SKETCH11_H)
    cut_extrude5_tool4 = extrude(cut_extrude5_sk4.sketch, amount=-CUT_EXTRUDE5_REACH, mode=Mode.PRIVATE) & part.part
    add(cut_extrude5_tool1.solids().sort_by_distance((-27.5, 5, -30))[0], mode=Mode.SUBTRACT)
    add(cut_extrude5_tool2.solids().sort_by_distance((-27.5, 5, 30))[0], mode=Mode.SUBTRACT)
    add(cut_extrude5_tool3.solids().sort_by_distance((27.5, 5, 30))[0], mode=Mode.SUBTRACT)
    add(cut_extrude5_tool4.solids().sort_by_distance((27.5, 5, -30))[0], mode=Mode.SUBTRACT)

    # Sketch12 → Cut-Extrude6 (cut)
    with BuildSketch(Plane.XZ):
        with Locations(Location((-17, -32.5, 0), (0, 0, 270))):
            Circle(SKETCH12_R)
        with Locations(Location((-17, -17.5, 0), (0, 0, 270))):
            Circle(SKETCH12_R)
        with Locations(Location((17, -17.5, 0), (0, 0, 270))):
            Circle(SKETCH12_R)
        with Locations(Location((17, -32.5, 0), (0, 0, 270))):
            Circle(SKETCH12_R)
    extrude(amount=-CUT_EXTRUDE6_DEPTH, mode=Mode.SUBTRACT)

    # Sketch13 → Cut-Extrude7 (cut)
    with BuildSketch(Plane.XZ):
        with Locations(Location((0, 0, 0), (0, 0, 270))):
            Circle(SKETCH13_R)
    extrude(amount=-CUT_EXTRUDE7_DEPTH, mode=Mode.SUBTRACT)

    # Sketch14 → Cut-Extrude8 (cut, up to next)
    with BuildSketch(Plane.XZ, mode=Mode.PRIVATE) as cut_extrude8_sk1:
        with Locations(Location((-8, -45, 0), (0, 0, 270))):
            Circle(SKETCH14_R)
    cut_extrude8_tool1 = extrude(cut_extrude8_sk1.sketch, amount=-CUT_EXTRUDE8_REACH, mode=Mode.PRIVATE) & part.part
    # Sketch14 → Cut-Extrude8 (cut, up to next)
    with BuildSketch(Plane.XZ, mode=Mode.PRIVATE) as cut_extrude8_sk2:
        with Locations(Location((8, -45, 0), (0, 0, 270))):
            Circle(SKETCH14_R)
    cut_extrude8_tool2 = extrude(cut_extrude8_sk2.sketch, amount=-CUT_EXTRUDE8_REACH, mode=Mode.PRIVATE) & part.part
    add(cut_extrude8_tool1.solids().sort_by_distance((-8, 0, -45))[0], mode=Mode.SUBTRACT)
    add(cut_extrude8_tool2.solids().sort_by_distance((8, 0, -45))[0], mode=Mode.SUBTRACT)

    # Sketch15 → Cut-Extrude9 (cut, up to next)
    with BuildSketch(Plane(origin=(0, 5, 0), x_dir=(1, 0, 0), z_dir=(0, 1, 0)), mode=Mode.PRIVATE) as cut_extrude9_sk1:
        with Locations(Location((0, 80, 0), (0, 0, 270))):
            Circle(SKETCH15_R)
    cut_extrude9_tool1 = extrude(cut_extrude9_sk1.sketch, amount=-CUT_EXTRUDE9_REACH, mode=Mode.PRIVATE) & part.part
    # Sketch15 → Cut-Extrude9 (cut, up to next)
    with BuildSketch(Plane(origin=(0, 5, 0), x_dir=(1, 0, 0), z_dir=(0, 1, 0)), mode=Mode.PRIVATE) as cut_extrude9_sk2:
        with Locations(Location((8, 80, 0), (0, 0, 270))):
            Circle(SKETCH15_R)
    cut_extrude9_tool2 = extrude(cut_extrude9_sk2.sketch, amount=-CUT_EXTRUDE9_REACH, mode=Mode.PRIVATE) & part.part
    # Sketch15 → Cut-Extrude9 (cut, up to next)
    with BuildSketch(Plane(origin=(0, 5, 0), x_dir=(1, 0, 0), z_dir=(0, 1, 0)), mode=Mode.PRIVATE) as cut_extrude9_sk3:
        with Locations(Location((-8, 80, 0), (0, 0, 270))):
            Circle(SKETCH15_R)
    cut_extrude9_tool3 = extrude(cut_extrude9_sk3.sketch, amount=-CUT_EXTRUDE9_REACH, mode=Mode.PRIVATE) & part.part
    # Sketch15 → Cut-Extrude9 (cut, up to next)
    with BuildSketch(Plane(origin=(0, 5, 0), x_dir=(1, 0, 0), z_dir=(0, 1, 0)), mode=Mode.PRIVATE) as cut_extrude9_sk4:
        with Locations(Location((80, 0, 0), (0, 0, 270))):
            Circle(SKETCH15_R)
    cut_extrude9_tool4 = extrude(cut_extrude9_sk4.sketch, amount=-CUT_EXTRUDE9_REACH, mode=Mode.PRIVATE) & part.part
    # Sketch15 → Cut-Extrude9 (cut, up to next)
    with BuildSketch(Plane(origin=(0, 5, 0), x_dir=(1, 0, 0), z_dir=(0, 1, 0)), mode=Mode.PRIVATE) as cut_extrude9_sk5:
        with Locations(Location((80, -8, 0), (0, 0, 270))):
            Circle(SKETCH15_R)
    cut_extrude9_tool5 = extrude(cut_extrude9_sk5.sketch, amount=-CUT_EXTRUDE9_REACH, mode=Mode.PRIVATE) & part.part
    # Sketch15 → Cut-Extrude9 (cut, up to next)
    with BuildSketch(Plane(origin=(0, 5, 0), x_dir=(1, 0, 0), z_dir=(0, 1, 0)), mode=Mode.PRIVATE) as cut_extrude9_sk6:
        with Locations(Location((80, 8, 0), (0, 0, 270))):
            Circle(SKETCH15_R)
    cut_extrude9_tool6 = extrude(cut_extrude9_sk6.sketch, amount=-CUT_EXTRUDE9_REACH, mode=Mode.PRIVATE) & part.part
    # Sketch15 → Cut-Extrude9 (cut, up to next)
    with BuildSketch(Plane(origin=(0, 5, 0), x_dir=(1, 0, 0), z_dir=(0, 1, 0)), mode=Mode.PRIVATE) as cut_extrude9_sk7:
        with Locations(Location((-80, 0, 0), (0, 0, 270))):
            Circle(SKETCH15_R)
    cut_extrude9_tool7 = extrude(cut_extrude9_sk7.sketch, amount=-CUT_EXTRUDE9_REACH, mode=Mode.PRIVATE) & part.part
    # Sketch15 → Cut-Extrude9 (cut, up to next)
    with BuildSketch(Plane(origin=(0, 5, 0), x_dir=(1, 0, 0), z_dir=(0, 1, 0)), mode=Mode.PRIVATE) as cut_extrude9_sk8:
        with Locations(Location((-80, 8, 0), (0, 0, 270))):
            Circle(SKETCH15_R)
    cut_extrude9_tool8 = extrude(cut_extrude9_sk8.sketch, amount=-CUT_EXTRUDE9_REACH, mode=Mode.PRIVATE) & part.part
    # Sketch15 → Cut-Extrude9 (cut, up to next)
    with BuildSketch(Plane(origin=(0, 5, 0), x_dir=(1, 0, 0), z_dir=(0, 1, 0)), mode=Mode.PRIVATE) as cut_extrude9_sk9:
        with Locations(Location((-80, -8, 0), (0, 0, 270))):
            Circle(SKETCH15_R)
    cut_extrude9_tool9 = extrude(cut_extrude9_sk9.sketch, amount=-CUT_EXTRUDE9_REACH, mode=Mode.PRIVATE) & part.part
    add(cut_extrude9_tool1.solids().sort_by_distance((0, 5, -80))[0], mode=Mode.SUBTRACT)
    add(cut_extrude9_tool2.solids().sort_by_distance((8, 5, -80))[0], mode=Mode.SUBTRACT)
    add(cut_extrude9_tool3.solids().sort_by_distance((-8, 5, -80))[0], mode=Mode.SUBTRACT)
    add(cut_extrude9_tool4.solids().sort_by_distance((80, 5, 0))[0], mode=Mode.SUBTRACT)
    add(cut_extrude9_tool5.solids().sort_by_distance((80, 5, 8))[0], mode=Mode.SUBTRACT)
    add(cut_extrude9_tool6.solids().sort_by_distance((80, 5, -8))[0], mode=Mode.SUBTRACT)
    add(cut_extrude9_tool7.solids().sort_by_distance((-80, 5, 0))[0], mode=Mode.SUBTRACT)
    add(cut_extrude9_tool8.solids().sort_by_distance((-80, 5, -8))[0], mode=Mode.SUBTRACT)
    add(cut_extrude9_tool9.solids().sort_by_distance((-80, 5, 8))[0], mode=Mode.SUBTRACT)

    # Sketch16 → Cut-Extrude10 (cut, up to next)
    with BuildSketch(Plane(origin=(0, 5, 0), x_dir=(1, 0, 0), z_dir=(0, 1, 0)), mode=Mode.PRIVATE) as cut_extrude10_sk1:
        with Locations(Location((-16, 95, 0), (0, 0, 270))):
            Circle(SKETCH16_R)
    cut_extrude10_tool1 = extrude(cut_extrude10_sk1.sketch, amount=-CUT_EXTRUDE10_REACH, mode=Mode.PRIVATE) & part.part
    # Sketch16 → Cut-Extrude10 (cut, up to next)
    with BuildSketch(Plane(origin=(0, 5, 0), x_dir=(1, 0, 0), z_dir=(0, 1, 0)), mode=Mode.PRIVATE) as cut_extrude10_sk2:
        with Locations(Location((16, 95, 0), (0, 0, 270))):
            Circle(SKETCH16_R)
    cut_extrude10_tool2 = extrude(cut_extrude10_sk2.sketch, amount=-CUT_EXTRUDE10_REACH, mode=Mode.PRIVATE) & part.part
    add(cut_extrude10_tool1.solids().sort_by_distance((-16, 5, -95))[0], mode=Mode.SUBTRACT)
    add(cut_extrude10_tool2.solids().sort_by_distance((16, 5, -95))[0], mode=Mode.SUBTRACT)

    # Sketch17 → Cut-Extrude11 (cut, up to next)
    with BuildSketch(Plane(origin=(0, 5, 0), x_dir=(1, 0, 0), z_dir=(0, 1, 0)), mode=Mode.PRIVATE) as cut_extrude11_sk1:
        with Locations((0, 66)):
            Rectangle(SKETCH17_W, SKETCH17_H)
    cut_extrude11_tool1 = extrude(cut_extrude11_sk1.sketch, amount=-CUT_EXTRUDE11_REACH, mode=Mode.PRIVATE) & part.part
    add(cut_extrude11_tool1.solids().sort_by_distance((0, 5, -66))[0], mode=Mode.SUBTRACT)

    # Sketch18 → Cut-Extrude12 (cut, up to next)
    with BuildSketch(Plane(origin=(0, 5, 0), x_dir=(1, 0, 0), z_dir=(0, 1, 0)), mode=Mode.PRIVATE) as cut_extrude12_sk1:
        with Locations(Location((0, 12.5, 0), (0, 0, 270))):
            Circle(SKETCH18_R)
    cut_extrude12_tool1 = extrude(cut_extrude12_sk1.sketch, amount=-CUT_EXTRUDE12_REACH, mode=Mode.PRIVATE) & part.part
    # Sketch18 → Cut-Extrude12 (cut, up to next)
    with BuildSketch(Plane(origin=(0, 5, 0), x_dir=(1, 0, 0), z_dir=(0, 1, 0)), mode=Mode.PRIVATE) as cut_extrude12_sk2:
        with Locations(Location((0, -12.5, 0), (0, 0, 270))):
            Circle(SKETCH18_R)
    cut_extrude12_tool2 = extrude(cut_extrude12_sk2.sketch, amount=-CUT_EXTRUDE12_REACH, mode=Mode.PRIVATE) & part.part
    add(cut_extrude12_tool1.solids().sort_by_distance((0, 5, -12.5))[0], mode=Mode.SUBTRACT)
    add(cut_extrude12_tool2.solids().sort_by_distance((0, 5, 12.5))[0], mode=Mode.SUBTRACT)


solid = part.part
